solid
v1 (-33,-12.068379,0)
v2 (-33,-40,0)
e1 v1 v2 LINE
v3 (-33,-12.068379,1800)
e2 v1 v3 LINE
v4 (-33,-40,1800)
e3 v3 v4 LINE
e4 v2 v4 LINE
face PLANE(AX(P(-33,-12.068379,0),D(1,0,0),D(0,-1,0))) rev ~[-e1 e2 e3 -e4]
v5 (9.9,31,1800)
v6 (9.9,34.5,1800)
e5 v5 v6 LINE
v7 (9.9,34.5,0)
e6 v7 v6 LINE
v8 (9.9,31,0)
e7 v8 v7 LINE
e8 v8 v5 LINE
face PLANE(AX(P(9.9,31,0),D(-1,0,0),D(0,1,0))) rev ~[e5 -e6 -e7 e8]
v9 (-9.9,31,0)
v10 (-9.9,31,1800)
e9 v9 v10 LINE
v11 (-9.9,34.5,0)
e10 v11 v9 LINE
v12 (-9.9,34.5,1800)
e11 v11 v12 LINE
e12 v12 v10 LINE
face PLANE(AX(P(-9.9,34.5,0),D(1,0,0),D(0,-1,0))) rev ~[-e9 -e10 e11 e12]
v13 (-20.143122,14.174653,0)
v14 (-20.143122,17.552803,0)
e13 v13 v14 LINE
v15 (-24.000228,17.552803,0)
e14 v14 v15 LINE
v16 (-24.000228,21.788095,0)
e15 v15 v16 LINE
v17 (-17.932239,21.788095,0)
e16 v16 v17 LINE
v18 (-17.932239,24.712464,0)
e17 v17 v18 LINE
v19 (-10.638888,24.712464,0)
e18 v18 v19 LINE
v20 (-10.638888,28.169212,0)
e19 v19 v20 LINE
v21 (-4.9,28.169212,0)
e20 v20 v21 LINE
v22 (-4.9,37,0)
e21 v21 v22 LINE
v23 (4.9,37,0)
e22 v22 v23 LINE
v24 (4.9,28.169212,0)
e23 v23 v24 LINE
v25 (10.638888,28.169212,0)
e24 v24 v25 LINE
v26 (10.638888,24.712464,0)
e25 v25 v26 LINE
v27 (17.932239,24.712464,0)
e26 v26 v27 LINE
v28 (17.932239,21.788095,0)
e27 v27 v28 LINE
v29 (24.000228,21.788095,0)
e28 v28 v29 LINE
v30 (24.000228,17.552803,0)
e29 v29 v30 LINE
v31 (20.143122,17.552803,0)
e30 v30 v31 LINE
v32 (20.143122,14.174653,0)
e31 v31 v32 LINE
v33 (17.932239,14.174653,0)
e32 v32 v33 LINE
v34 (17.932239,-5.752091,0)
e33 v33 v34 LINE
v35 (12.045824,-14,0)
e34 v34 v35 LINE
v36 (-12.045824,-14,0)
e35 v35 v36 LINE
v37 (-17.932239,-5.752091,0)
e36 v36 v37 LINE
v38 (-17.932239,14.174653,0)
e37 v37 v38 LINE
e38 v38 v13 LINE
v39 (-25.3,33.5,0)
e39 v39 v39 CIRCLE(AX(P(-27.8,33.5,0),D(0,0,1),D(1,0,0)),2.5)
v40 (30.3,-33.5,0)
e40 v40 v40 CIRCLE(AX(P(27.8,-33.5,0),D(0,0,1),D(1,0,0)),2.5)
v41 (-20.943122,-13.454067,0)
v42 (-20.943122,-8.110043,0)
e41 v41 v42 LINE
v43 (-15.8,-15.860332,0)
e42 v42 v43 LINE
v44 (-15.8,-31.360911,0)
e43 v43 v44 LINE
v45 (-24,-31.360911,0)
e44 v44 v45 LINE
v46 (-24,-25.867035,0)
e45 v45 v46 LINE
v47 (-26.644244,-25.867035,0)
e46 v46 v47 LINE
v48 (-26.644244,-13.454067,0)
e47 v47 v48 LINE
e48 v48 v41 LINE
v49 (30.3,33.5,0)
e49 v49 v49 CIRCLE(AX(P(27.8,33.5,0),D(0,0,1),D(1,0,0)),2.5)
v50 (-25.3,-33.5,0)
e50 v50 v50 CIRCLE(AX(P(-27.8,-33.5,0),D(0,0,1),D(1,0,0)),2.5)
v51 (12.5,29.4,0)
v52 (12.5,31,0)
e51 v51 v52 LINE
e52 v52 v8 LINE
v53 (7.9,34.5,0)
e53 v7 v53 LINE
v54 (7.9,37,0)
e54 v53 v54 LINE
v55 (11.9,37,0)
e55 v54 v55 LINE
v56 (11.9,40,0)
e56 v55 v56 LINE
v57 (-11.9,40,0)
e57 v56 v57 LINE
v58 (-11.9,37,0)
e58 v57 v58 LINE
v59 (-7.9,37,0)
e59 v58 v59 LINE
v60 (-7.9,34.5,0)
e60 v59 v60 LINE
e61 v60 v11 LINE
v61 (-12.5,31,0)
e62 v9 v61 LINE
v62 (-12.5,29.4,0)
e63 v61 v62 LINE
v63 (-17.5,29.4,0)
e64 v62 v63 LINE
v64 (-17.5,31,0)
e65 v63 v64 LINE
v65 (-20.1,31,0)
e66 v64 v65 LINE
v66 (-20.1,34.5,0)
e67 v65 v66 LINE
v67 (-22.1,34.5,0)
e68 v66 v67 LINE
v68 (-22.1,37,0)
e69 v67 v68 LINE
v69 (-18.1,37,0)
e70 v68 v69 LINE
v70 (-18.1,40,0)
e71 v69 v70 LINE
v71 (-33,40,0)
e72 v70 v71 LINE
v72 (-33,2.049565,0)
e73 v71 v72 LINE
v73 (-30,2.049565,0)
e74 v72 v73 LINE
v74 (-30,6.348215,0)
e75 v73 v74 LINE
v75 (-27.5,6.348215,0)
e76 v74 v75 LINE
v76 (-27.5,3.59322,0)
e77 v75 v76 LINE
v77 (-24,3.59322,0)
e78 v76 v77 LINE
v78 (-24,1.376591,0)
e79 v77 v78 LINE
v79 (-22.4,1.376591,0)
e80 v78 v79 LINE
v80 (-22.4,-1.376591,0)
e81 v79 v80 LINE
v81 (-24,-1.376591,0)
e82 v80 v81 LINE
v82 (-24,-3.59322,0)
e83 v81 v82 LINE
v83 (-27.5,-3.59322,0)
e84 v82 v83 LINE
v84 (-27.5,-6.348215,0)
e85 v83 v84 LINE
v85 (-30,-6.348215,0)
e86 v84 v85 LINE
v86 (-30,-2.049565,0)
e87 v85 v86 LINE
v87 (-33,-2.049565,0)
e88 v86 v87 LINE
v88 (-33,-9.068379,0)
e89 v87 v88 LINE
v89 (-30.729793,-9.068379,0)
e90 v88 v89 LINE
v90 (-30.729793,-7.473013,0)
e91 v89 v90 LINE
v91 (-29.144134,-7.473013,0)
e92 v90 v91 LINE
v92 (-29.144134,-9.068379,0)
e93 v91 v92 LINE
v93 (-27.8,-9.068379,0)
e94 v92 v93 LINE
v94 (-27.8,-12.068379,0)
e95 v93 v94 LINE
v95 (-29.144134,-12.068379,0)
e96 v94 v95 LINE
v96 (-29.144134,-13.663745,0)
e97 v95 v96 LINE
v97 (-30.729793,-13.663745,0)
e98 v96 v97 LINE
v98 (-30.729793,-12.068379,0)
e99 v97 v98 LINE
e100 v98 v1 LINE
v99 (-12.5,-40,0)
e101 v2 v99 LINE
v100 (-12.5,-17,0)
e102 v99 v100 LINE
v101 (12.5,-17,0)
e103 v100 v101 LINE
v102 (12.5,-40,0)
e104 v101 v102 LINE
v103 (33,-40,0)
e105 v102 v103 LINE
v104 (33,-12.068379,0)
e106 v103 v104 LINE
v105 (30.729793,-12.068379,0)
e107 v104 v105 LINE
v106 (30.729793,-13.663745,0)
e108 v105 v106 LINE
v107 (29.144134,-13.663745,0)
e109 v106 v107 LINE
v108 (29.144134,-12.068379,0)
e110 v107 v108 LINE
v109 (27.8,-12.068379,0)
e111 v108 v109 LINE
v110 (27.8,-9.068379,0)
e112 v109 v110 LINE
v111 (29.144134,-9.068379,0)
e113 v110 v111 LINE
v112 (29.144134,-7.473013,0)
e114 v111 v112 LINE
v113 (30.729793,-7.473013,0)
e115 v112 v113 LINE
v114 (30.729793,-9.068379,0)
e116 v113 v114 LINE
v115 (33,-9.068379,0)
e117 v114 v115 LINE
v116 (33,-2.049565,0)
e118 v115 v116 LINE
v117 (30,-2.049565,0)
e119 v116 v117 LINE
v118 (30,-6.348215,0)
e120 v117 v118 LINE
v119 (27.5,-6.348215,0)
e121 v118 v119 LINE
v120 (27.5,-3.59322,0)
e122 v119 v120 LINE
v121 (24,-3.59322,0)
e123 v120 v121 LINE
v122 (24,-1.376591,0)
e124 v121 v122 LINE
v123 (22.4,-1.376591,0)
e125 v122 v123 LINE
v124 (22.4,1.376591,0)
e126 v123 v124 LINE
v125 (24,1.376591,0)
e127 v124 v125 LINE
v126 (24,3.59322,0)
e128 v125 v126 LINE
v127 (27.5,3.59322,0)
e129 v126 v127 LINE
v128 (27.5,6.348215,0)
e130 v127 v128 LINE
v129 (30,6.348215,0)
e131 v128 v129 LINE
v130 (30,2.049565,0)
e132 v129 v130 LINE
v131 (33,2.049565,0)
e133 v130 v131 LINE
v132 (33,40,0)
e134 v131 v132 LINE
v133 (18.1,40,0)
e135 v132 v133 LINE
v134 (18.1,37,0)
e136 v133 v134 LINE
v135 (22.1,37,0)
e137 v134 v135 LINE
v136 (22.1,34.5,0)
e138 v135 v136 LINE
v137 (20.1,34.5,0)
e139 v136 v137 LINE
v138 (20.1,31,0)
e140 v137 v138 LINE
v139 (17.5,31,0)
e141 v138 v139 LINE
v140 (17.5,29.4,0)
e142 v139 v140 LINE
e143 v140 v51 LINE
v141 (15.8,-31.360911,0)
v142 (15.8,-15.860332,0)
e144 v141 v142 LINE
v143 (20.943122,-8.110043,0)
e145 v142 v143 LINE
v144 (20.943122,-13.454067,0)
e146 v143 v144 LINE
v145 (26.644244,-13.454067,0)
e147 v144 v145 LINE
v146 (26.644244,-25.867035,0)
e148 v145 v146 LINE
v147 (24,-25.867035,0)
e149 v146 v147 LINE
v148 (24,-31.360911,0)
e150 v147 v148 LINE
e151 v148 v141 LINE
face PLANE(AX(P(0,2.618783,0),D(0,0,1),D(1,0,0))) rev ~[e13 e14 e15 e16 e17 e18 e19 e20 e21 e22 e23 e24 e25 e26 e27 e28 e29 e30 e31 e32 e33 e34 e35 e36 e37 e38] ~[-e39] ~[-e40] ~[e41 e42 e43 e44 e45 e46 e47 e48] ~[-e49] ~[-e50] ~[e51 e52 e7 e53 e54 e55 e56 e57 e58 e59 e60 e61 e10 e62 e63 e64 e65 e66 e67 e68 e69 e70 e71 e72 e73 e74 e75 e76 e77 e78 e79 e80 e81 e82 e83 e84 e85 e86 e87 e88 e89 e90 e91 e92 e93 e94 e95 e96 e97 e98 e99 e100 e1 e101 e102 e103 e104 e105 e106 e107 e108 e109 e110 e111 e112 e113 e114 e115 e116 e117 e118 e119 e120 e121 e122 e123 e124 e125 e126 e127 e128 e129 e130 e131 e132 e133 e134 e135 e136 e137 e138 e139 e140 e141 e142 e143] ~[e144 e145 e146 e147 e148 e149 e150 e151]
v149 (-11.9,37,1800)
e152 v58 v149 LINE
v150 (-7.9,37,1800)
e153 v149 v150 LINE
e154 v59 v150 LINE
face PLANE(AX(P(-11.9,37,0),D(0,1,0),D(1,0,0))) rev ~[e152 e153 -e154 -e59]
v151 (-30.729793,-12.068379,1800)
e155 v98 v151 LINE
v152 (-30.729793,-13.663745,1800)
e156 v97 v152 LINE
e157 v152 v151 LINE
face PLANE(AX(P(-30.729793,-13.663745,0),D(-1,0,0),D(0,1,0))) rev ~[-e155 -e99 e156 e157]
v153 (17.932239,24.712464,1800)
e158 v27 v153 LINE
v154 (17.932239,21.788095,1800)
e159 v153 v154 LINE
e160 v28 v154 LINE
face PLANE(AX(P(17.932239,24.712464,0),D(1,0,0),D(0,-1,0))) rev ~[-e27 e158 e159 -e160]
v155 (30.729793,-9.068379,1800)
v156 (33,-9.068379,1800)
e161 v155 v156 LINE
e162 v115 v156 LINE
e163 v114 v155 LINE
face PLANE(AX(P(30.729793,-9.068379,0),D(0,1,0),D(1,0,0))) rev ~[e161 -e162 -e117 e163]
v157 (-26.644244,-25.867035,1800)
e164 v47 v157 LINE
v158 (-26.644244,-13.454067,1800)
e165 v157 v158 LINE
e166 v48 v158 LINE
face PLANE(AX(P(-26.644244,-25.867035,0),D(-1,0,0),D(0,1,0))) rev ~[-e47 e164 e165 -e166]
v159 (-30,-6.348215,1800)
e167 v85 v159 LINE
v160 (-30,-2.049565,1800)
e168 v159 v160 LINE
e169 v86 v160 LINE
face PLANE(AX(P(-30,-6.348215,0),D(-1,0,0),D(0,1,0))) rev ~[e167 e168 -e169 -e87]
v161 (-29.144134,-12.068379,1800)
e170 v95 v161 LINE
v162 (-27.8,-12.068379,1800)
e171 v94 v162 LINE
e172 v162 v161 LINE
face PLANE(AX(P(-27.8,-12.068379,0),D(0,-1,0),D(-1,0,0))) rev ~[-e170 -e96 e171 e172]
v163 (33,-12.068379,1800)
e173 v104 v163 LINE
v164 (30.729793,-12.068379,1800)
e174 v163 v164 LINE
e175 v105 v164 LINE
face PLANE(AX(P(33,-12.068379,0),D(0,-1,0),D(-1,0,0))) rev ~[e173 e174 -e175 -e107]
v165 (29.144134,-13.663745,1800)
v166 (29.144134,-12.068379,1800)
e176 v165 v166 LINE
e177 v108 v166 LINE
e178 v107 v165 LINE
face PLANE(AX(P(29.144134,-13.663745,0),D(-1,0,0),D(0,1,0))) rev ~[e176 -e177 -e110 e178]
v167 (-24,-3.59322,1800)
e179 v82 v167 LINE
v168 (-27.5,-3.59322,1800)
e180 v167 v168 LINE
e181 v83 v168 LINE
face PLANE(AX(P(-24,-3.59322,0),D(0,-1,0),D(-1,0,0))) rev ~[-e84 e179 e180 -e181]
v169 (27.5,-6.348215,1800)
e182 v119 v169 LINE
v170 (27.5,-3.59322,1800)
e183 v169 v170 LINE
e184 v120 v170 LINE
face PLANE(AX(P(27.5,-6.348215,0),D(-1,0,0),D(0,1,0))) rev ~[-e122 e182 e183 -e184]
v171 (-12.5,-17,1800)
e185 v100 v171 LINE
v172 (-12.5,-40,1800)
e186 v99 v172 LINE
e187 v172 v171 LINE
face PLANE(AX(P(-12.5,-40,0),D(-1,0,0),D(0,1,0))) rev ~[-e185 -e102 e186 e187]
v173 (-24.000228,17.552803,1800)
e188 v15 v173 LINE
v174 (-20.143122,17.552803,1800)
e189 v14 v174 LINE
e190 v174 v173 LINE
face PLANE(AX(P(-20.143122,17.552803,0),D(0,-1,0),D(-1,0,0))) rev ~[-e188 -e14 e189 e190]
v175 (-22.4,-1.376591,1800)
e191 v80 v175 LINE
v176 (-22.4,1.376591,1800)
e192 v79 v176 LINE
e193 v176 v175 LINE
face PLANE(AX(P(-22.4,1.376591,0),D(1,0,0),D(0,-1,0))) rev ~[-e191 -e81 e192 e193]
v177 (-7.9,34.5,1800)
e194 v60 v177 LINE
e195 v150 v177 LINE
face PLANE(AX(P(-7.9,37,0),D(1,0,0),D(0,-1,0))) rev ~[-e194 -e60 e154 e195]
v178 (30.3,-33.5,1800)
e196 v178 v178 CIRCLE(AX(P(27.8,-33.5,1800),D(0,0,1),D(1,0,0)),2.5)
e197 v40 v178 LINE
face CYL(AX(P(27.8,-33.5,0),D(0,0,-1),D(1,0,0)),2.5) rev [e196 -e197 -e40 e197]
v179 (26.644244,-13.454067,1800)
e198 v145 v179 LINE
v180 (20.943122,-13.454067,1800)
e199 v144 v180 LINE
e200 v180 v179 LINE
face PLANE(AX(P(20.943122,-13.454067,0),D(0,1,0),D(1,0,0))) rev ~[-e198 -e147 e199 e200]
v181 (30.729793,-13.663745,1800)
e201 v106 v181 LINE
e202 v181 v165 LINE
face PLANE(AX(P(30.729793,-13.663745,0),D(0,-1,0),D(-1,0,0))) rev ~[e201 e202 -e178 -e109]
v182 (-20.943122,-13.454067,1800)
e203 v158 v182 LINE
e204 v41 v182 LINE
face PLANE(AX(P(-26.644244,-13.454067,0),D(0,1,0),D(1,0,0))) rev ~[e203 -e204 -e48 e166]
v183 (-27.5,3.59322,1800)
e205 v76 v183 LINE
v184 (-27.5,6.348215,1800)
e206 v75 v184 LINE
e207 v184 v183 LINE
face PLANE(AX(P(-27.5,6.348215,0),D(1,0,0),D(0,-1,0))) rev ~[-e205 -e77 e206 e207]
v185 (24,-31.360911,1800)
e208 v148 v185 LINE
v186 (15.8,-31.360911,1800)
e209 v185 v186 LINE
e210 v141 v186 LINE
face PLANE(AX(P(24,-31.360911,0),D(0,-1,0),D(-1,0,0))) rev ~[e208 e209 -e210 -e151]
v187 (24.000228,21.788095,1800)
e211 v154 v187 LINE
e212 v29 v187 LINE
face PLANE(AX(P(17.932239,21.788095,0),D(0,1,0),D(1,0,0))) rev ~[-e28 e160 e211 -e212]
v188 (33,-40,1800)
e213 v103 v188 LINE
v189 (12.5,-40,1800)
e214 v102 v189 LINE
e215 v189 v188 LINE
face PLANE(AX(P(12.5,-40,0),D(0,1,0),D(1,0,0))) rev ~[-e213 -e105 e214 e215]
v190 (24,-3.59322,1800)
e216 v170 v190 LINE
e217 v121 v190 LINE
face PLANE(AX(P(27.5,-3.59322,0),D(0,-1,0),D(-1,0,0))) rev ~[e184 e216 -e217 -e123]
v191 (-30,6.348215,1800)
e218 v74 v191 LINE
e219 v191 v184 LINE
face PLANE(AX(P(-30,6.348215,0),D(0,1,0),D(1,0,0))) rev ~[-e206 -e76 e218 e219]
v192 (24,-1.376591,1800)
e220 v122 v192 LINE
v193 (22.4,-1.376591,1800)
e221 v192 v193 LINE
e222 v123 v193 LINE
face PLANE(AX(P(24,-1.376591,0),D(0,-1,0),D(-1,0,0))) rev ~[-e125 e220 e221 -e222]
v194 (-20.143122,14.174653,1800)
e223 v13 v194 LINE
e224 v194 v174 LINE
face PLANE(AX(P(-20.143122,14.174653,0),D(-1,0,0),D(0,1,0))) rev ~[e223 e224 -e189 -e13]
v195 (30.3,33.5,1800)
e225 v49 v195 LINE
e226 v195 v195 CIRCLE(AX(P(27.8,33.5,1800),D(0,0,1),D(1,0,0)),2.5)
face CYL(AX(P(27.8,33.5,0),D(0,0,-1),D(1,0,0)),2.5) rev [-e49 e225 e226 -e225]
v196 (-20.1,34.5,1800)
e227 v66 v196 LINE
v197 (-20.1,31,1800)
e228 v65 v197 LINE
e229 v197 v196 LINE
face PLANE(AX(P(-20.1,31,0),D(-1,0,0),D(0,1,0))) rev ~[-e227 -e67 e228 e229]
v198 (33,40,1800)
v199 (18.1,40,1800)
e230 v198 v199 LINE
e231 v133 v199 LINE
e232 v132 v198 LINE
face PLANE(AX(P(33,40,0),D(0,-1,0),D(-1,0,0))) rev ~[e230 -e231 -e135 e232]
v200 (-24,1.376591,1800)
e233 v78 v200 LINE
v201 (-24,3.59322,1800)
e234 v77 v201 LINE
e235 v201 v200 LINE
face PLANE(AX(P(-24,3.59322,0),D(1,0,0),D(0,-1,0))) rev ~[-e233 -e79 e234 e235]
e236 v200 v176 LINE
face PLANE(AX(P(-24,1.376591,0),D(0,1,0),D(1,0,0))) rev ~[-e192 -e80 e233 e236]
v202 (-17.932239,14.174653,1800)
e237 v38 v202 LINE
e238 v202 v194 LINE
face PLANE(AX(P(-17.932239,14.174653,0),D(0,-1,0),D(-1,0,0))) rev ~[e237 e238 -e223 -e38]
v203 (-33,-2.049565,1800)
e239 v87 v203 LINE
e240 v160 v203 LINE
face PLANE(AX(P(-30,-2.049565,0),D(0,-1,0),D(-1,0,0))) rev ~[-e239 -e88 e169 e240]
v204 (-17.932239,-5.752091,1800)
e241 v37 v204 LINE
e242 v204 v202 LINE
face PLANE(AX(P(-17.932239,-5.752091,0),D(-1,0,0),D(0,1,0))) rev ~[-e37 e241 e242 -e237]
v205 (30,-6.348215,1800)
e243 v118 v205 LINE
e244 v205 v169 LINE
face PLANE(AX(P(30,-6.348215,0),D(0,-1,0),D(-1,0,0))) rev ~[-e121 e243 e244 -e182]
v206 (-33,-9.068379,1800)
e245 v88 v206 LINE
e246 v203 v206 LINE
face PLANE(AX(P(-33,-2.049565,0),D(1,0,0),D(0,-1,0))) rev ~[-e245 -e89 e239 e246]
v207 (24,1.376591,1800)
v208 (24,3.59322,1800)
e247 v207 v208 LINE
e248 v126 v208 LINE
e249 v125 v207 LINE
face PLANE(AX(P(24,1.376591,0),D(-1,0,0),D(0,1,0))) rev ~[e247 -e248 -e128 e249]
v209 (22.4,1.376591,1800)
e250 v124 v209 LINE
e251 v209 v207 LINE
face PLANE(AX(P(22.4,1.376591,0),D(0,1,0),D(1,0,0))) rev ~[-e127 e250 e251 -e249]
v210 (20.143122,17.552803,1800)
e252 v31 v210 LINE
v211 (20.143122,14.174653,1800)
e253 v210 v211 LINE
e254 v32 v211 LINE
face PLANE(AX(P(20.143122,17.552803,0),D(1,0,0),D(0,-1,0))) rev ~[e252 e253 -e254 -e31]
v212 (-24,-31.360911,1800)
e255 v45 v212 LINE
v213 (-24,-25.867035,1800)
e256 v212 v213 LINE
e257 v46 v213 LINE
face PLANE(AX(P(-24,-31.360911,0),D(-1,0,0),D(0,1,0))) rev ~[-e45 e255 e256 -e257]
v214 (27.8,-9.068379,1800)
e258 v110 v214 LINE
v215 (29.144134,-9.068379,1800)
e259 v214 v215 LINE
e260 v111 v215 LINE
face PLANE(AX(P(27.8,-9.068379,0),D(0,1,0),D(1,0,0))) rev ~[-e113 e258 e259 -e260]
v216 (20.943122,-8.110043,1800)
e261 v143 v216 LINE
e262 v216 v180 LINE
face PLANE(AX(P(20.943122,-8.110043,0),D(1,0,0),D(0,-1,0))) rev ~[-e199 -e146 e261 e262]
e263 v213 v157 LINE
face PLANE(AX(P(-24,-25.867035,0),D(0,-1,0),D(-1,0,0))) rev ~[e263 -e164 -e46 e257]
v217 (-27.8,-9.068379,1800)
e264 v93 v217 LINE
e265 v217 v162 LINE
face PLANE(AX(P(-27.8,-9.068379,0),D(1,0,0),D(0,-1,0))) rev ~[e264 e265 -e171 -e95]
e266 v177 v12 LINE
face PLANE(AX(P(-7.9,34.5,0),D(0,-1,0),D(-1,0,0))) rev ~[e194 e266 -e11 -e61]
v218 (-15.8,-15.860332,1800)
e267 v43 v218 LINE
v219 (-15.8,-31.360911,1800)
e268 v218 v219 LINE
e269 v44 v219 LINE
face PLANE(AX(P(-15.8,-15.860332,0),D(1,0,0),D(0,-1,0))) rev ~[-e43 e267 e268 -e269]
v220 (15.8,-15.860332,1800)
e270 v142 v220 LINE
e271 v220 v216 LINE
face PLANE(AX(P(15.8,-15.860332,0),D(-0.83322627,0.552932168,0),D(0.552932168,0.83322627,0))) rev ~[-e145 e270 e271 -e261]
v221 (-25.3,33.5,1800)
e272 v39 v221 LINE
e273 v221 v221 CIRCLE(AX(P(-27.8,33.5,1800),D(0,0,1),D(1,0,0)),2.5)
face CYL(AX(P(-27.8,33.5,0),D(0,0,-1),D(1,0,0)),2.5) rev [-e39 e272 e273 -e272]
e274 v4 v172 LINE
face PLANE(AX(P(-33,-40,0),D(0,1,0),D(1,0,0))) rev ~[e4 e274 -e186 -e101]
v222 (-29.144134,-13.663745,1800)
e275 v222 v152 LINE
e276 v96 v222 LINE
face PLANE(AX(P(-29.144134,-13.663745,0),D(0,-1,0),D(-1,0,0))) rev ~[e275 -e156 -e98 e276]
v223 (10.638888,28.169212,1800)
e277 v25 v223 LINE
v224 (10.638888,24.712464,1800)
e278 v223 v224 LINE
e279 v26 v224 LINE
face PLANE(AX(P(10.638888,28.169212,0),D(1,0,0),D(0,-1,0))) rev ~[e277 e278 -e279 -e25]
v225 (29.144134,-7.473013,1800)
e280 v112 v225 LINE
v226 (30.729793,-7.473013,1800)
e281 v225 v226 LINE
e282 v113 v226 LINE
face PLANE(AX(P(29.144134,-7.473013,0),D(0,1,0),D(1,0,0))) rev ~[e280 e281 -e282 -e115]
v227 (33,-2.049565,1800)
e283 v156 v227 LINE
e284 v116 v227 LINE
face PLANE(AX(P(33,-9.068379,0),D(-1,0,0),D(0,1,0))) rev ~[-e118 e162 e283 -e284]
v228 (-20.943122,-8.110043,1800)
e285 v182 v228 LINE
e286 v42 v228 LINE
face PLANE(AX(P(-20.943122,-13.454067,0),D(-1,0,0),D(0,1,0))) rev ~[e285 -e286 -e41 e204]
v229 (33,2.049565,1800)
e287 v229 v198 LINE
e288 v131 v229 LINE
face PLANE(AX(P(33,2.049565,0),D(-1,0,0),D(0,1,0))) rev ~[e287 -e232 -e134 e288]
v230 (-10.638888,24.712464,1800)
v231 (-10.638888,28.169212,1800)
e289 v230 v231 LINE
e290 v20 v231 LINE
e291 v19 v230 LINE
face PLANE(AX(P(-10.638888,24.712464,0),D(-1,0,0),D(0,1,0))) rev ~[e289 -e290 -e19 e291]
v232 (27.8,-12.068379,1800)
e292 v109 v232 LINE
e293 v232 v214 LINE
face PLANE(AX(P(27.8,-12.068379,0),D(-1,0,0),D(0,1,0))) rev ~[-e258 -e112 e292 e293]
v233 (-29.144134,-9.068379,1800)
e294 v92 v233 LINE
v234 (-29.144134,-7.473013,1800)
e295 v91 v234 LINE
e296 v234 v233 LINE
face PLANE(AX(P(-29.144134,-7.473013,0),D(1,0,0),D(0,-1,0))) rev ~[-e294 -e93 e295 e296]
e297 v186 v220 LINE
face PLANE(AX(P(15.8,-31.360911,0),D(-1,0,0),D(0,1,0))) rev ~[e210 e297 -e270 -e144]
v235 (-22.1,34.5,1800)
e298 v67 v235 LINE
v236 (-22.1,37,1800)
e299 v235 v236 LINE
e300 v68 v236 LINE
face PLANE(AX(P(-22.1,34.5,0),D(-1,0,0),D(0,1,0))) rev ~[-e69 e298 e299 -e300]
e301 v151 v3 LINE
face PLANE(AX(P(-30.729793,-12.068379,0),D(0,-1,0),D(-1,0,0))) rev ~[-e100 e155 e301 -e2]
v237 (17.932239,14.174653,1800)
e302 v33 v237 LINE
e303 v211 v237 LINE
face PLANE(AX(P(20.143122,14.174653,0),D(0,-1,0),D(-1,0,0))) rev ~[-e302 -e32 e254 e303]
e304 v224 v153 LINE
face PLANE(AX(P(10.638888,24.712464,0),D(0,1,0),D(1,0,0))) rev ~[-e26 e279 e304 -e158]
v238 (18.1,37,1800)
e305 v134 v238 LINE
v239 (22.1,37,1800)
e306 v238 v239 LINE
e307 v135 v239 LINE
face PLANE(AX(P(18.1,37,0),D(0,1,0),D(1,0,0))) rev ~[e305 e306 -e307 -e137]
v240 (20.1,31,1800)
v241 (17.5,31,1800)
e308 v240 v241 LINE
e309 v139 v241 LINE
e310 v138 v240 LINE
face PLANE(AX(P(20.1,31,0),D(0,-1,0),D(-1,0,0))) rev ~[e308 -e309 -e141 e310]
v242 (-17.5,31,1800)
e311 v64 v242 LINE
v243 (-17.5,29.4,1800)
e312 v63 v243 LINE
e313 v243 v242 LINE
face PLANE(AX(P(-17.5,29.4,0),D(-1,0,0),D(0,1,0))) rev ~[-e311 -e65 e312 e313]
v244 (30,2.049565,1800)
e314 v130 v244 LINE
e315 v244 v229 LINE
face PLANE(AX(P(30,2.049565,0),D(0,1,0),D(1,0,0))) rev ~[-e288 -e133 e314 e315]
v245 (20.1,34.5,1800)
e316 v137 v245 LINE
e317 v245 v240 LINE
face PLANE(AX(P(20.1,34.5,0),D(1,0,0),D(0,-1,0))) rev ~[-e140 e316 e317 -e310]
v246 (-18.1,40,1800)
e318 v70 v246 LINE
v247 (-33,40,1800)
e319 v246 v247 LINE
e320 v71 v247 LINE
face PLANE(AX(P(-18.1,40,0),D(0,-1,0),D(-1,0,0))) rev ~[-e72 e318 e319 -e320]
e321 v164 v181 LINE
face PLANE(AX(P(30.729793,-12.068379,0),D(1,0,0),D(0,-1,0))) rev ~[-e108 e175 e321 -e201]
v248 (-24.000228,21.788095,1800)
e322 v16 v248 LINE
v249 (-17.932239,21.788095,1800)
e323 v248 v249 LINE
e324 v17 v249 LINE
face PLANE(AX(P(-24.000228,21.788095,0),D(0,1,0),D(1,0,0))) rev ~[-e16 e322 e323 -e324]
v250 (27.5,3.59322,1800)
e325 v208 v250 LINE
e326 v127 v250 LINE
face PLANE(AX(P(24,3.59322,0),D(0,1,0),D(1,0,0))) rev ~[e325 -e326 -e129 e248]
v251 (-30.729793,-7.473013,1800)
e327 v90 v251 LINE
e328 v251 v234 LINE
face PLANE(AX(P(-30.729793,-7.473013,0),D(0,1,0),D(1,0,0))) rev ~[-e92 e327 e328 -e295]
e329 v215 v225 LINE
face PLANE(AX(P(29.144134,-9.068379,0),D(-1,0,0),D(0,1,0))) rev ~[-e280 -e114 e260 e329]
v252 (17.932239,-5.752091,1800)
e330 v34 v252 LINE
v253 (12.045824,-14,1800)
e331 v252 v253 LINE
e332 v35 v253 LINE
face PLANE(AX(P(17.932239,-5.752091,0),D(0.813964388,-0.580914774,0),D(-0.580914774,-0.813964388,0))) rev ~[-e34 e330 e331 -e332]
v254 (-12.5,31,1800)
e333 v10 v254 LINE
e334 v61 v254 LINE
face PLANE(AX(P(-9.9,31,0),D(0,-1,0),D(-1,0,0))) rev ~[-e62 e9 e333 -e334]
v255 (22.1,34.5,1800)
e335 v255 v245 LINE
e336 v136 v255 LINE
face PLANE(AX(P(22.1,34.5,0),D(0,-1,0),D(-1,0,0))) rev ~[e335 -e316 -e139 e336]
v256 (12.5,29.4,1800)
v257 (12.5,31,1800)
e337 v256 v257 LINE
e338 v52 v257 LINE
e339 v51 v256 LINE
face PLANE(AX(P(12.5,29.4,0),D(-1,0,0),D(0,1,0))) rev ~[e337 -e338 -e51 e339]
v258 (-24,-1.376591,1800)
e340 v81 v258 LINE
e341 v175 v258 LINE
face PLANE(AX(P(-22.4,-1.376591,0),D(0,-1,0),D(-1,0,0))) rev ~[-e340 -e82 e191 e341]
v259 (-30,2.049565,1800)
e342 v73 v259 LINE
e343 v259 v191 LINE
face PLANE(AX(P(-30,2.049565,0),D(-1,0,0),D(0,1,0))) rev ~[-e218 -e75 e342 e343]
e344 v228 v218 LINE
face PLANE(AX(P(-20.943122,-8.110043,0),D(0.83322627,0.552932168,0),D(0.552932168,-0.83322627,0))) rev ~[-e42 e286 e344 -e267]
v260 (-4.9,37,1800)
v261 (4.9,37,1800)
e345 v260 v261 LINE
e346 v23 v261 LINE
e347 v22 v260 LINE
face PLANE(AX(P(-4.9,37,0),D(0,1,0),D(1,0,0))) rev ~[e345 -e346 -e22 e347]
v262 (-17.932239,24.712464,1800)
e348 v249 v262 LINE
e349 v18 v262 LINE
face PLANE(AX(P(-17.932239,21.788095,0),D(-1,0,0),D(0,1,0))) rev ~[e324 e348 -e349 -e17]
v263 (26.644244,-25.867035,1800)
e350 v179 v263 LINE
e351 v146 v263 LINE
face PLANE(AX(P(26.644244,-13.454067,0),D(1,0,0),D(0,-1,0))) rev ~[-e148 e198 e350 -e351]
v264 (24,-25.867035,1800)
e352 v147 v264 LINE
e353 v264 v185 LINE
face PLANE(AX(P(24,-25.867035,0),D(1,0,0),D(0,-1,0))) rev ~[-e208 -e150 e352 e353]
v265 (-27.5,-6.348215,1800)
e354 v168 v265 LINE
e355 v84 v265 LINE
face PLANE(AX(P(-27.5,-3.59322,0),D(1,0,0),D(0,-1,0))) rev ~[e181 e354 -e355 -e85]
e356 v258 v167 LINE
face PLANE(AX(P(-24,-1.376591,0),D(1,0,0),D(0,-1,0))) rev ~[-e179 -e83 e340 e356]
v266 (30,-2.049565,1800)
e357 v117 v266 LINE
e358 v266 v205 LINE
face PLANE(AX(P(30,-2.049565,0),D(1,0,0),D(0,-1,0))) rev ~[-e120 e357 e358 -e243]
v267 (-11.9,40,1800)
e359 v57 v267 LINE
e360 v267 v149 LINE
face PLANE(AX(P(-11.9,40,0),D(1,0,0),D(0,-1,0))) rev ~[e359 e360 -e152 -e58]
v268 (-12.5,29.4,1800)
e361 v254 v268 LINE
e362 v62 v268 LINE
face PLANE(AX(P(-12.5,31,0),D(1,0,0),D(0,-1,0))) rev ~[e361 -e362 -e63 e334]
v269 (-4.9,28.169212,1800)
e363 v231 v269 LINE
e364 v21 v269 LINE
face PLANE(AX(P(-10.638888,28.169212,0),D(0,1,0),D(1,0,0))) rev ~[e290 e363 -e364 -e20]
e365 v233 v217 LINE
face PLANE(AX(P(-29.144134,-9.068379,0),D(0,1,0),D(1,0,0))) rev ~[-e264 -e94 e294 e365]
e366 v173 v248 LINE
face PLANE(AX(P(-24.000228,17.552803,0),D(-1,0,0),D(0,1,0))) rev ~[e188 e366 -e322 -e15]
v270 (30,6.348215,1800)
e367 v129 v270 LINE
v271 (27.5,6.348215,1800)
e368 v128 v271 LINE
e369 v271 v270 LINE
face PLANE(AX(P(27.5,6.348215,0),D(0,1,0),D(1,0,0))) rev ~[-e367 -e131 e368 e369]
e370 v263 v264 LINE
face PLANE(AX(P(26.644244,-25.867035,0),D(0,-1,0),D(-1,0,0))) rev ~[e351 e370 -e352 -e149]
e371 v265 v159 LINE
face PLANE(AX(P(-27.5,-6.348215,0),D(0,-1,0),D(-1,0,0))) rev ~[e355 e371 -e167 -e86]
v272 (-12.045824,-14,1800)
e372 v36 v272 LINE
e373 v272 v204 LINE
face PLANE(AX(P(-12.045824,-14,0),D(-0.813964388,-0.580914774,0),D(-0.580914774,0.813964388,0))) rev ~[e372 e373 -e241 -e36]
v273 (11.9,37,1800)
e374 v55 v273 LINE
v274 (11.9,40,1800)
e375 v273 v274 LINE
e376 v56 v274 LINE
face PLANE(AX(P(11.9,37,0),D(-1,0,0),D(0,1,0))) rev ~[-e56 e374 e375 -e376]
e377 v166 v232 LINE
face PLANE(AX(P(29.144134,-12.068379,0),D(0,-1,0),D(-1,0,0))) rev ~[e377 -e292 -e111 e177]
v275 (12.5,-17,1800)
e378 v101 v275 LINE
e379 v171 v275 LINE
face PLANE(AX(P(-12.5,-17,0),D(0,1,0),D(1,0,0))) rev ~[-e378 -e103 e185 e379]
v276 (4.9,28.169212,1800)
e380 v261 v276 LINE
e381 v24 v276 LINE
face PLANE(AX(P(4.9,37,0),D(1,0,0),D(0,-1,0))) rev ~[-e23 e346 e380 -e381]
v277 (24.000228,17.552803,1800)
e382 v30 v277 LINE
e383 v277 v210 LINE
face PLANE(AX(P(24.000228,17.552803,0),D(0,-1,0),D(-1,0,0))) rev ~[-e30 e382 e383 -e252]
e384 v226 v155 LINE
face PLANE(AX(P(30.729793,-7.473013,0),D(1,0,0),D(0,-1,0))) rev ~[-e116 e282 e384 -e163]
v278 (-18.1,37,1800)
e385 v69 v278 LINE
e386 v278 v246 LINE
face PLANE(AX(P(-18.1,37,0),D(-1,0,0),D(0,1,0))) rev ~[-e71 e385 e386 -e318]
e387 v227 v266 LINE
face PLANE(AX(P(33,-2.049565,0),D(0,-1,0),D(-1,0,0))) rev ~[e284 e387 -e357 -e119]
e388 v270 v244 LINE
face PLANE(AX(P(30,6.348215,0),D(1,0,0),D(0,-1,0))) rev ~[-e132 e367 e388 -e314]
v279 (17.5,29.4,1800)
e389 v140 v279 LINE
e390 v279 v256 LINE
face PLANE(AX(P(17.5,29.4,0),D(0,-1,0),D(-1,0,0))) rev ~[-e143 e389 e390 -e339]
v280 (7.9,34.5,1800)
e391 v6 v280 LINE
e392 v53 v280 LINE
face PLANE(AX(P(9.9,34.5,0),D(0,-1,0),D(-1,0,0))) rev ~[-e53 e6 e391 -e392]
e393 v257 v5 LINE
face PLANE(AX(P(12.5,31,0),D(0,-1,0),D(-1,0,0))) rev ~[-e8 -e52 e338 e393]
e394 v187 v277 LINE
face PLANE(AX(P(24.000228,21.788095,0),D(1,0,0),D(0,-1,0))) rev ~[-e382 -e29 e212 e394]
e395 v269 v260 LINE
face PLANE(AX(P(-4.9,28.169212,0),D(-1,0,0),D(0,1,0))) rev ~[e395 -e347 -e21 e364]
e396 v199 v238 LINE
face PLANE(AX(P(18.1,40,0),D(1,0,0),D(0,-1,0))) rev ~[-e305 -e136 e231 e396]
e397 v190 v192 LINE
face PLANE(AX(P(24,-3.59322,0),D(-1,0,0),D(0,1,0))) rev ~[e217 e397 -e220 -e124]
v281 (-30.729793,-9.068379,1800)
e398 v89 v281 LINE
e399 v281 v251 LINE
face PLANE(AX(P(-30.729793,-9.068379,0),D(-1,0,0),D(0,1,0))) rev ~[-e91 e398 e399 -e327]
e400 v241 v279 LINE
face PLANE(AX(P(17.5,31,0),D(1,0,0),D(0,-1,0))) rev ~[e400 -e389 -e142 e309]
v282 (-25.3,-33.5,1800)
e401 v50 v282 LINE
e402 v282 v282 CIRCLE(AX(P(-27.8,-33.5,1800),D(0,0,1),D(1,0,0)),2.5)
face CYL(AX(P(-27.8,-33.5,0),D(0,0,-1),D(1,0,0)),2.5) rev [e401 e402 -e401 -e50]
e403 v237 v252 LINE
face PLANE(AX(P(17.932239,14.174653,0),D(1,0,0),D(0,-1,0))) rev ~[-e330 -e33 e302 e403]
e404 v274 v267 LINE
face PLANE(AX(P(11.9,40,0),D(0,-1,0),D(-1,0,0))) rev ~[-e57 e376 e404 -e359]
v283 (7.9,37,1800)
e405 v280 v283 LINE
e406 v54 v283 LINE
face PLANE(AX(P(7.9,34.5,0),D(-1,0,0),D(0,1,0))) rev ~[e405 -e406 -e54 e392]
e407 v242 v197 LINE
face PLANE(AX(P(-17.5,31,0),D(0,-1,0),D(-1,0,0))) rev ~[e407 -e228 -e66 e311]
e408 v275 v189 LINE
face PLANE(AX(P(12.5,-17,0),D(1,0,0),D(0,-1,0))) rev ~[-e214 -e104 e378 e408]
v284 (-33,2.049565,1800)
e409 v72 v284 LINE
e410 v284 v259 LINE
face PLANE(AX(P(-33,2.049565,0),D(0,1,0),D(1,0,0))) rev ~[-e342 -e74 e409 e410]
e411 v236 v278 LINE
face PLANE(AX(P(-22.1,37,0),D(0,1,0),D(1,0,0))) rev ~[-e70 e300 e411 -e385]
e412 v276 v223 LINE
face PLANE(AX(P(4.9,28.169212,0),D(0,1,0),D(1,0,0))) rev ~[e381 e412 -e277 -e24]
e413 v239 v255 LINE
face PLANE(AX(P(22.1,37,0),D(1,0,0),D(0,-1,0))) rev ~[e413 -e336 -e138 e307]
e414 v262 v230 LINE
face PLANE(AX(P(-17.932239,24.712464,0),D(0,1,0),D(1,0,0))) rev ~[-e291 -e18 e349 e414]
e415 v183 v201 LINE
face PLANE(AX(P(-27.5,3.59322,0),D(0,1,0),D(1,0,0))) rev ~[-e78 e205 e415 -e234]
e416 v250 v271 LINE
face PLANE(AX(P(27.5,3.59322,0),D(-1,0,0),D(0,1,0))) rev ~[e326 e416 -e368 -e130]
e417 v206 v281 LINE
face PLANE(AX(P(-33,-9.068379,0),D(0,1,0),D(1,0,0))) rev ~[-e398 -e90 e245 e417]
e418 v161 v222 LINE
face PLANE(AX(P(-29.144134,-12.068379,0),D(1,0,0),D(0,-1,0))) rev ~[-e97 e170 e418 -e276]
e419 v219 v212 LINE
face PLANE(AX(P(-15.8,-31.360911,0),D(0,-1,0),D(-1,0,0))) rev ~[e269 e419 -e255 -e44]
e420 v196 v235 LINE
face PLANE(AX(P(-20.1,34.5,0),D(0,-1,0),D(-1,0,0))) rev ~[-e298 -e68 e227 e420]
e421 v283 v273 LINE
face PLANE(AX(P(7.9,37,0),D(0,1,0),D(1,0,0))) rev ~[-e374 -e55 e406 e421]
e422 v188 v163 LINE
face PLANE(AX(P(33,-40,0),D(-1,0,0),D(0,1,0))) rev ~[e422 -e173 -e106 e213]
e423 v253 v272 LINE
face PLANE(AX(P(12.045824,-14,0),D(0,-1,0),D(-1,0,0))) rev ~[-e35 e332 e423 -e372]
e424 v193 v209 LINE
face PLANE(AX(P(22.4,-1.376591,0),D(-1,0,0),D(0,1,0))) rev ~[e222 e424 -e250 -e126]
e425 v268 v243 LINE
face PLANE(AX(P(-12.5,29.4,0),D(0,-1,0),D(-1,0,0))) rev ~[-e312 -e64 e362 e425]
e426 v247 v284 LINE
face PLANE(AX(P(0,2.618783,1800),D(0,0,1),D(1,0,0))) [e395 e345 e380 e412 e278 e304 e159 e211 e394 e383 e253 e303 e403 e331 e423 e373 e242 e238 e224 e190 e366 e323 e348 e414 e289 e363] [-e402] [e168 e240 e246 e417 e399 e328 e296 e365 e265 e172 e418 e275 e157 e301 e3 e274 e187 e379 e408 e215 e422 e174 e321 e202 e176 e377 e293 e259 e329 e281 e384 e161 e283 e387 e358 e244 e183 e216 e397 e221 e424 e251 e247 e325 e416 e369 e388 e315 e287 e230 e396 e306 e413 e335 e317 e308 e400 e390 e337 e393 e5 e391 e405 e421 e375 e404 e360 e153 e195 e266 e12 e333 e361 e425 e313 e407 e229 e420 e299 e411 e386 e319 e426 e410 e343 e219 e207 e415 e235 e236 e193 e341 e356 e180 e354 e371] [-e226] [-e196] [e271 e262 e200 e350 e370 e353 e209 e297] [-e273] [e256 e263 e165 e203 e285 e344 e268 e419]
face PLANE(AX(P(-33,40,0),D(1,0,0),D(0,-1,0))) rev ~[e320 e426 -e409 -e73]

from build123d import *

# Parameters (mm, degrees)
SKETCH_2_R      = 2.5
EXTRUDE_1_DEPTH = 1800


with BuildPart() as part:
    # 草图2 → 凸台-拉伸1 (new body)
    with BuildSketch(Plane.XY):
        Polygon((-18.1, 37), (-18.1, 40), (-33, 40), (-33, 2.049564589), (-30, 2.049564589), (-30, 6.348214799), (-27.5, 6.348214799), (-27.5, 3.593219783), (-24, 3.593219783), (-24, 1.376590931), (-22.4, 1.376590931), (-22.4, -1.376590931), (-24, -1.376590931), (-24, -3.593219783), (-27.5, -3.593219783), (-27.5, -6.348214799), (-30, -6.348214799), (-30, -2.049564589), (-33, -2.049564589), (-33, -9.06837916), (-30.729793093, -9.06837916), (-30.729793093, -7.473013176), (-29.144133649, -7.473013176), (-29.144133649, -9.06837916), (-27.8, -9.06837916), (-27.8, -10.56837916), (-27.8, -12.06837916), (-29.144133649, -12.06837916), (-29.144133649, -13.663745144), (-30.729793093, -13.663745144), (-30.729793093, -12.06837916), (-33, -12.06837916), (-33, -40), (-12.5, -40), (-12.5, -17), (12.5, -17), (12.5, -40), (33, -40), (33, -12.06837916), (30.729793093, -12.06837916), (30.729793093, -13.663745144), (29.144133649, -13.663745144), (29.144133649, -12.06837916), (27.8, -12.06837916), (27.8, -10.56837916), (27.8, -9.06837916), (29.144133649, -9.06837916), (29.144133649, -7.473013176), (30.729793093, -7.473013176), (30.729793093, -9.06837916), (33, -9.06837916), (33, -2.049564589), (30, -2.049564589), (30, -6.348214799), (27.5, -6.348214799), (27.5, -3.593219783), (24, -3.593219783), (24, -1.376590931), (22.4, -1.376590931), (22.4, 1.376590931), (24, 1.376590931), (24, 3.593219783), (27.5, 3.593219783), (27.5, 6.348214799), (30, 6.348214799), (30, 2.049564589), (33, 2.049564589), (33, 40), (18.1, 40), (18.1, 37), (22.1, 37), (22.1, 34.5), (20.1, 34.5), (20.1, 31), (17.5, 31), (17.5, 29.4), (12.5, 29.4), (12.5, 31), (9.9, 31), (9.9, 34.5), (7.9, 34.5), (7.9, 37), (11.9, 37), (11.9, 40), (-11.9, 40), (-11.9, 37), (-7.9, 37), (-7.9, 34.5), (-9.9, 34.5), (-9.9, 31), (-12.5, 31), (-12.5, 29.4), (-17.5, 29.4), (-17.5, 31), (-20.1, 31), (-20.1, 34.5), (-22.1, 34.5), (-22.1, 37), align=None)
        with Locations((-27.8, -33.5)):
            Circle(SKETCH_2_R, mode=Mode.SUBTRACT)
        Polygon((-20.943121928, -13.45406673), (-20.943121928, -8.11004262), (-15.8, -15.86033199), (-15.8, -31.360910729), (-24, -31.360910729), (-24, -25.86703472), (-26.644243735, -25.86703472), (-26.644243735, -13.45406673), align=None, mode=Mode.SUBTRACT)
        with Locations((27.8, -33.5)):
            Circle(SKETCH_2_R, mode=Mode.SUBTRACT)
        Polygon((24, -25.86703472), (24, -31.360910729), (15.8, -31.360910729), (15.8, -15.86033199), (20.943121928, -8.11004262), (20.943121928, -13.45406673), (26.644243735, -13.45406673), (26.644243735, -25.86703472), align=None, mode=Mode.SUBTRACT)
        with Locations((-27.8, 33.5)):
            Circle(SKETCH_2_R, mode=Mode.SUBTRACT)
        Polygon((-24.000227571, 17.552802839), (-24.000227571, 21.788095294), (-17.932238887, 21.788095294), (-17.932238887, 24.712463894), (-10.638888278, 24.712463894), (-10.638888278, 28.169211595), (-4.9, 28.169211595), (-4.9, 37), (4.9, 37), (4.9, 28.169211595), (10.638888278, 28.169211595), (10.638888278, 24.712463894), (17.932238887, 24.712463894), (17.932238887, 21.788095294), (24.000227571, 21.788095294), (24.000227571, 17.552802839), (20.143121928, 17.552802839), (20.143121928, 14.174652905), (17.932238887, 14.174652905), (17.932238887, -5.752091446), (12.045824189, -14), (0, -14), (-12.045824189, -14), (-17.932238887, -5.752091446), (-17.932238887, 14.174652905), (-20.143121928, 14.174652905), (-20.143121928, 17.552802839), align=None, mode=Mode.SUBTRACT)
        with Locations((27.8, 33.5)):
            Circle(SKETCH_2_R, mode=Mode.SUBTRACT)
    extrude(amount=EXTRUDE_1_DEPTH)


solid = part.part
